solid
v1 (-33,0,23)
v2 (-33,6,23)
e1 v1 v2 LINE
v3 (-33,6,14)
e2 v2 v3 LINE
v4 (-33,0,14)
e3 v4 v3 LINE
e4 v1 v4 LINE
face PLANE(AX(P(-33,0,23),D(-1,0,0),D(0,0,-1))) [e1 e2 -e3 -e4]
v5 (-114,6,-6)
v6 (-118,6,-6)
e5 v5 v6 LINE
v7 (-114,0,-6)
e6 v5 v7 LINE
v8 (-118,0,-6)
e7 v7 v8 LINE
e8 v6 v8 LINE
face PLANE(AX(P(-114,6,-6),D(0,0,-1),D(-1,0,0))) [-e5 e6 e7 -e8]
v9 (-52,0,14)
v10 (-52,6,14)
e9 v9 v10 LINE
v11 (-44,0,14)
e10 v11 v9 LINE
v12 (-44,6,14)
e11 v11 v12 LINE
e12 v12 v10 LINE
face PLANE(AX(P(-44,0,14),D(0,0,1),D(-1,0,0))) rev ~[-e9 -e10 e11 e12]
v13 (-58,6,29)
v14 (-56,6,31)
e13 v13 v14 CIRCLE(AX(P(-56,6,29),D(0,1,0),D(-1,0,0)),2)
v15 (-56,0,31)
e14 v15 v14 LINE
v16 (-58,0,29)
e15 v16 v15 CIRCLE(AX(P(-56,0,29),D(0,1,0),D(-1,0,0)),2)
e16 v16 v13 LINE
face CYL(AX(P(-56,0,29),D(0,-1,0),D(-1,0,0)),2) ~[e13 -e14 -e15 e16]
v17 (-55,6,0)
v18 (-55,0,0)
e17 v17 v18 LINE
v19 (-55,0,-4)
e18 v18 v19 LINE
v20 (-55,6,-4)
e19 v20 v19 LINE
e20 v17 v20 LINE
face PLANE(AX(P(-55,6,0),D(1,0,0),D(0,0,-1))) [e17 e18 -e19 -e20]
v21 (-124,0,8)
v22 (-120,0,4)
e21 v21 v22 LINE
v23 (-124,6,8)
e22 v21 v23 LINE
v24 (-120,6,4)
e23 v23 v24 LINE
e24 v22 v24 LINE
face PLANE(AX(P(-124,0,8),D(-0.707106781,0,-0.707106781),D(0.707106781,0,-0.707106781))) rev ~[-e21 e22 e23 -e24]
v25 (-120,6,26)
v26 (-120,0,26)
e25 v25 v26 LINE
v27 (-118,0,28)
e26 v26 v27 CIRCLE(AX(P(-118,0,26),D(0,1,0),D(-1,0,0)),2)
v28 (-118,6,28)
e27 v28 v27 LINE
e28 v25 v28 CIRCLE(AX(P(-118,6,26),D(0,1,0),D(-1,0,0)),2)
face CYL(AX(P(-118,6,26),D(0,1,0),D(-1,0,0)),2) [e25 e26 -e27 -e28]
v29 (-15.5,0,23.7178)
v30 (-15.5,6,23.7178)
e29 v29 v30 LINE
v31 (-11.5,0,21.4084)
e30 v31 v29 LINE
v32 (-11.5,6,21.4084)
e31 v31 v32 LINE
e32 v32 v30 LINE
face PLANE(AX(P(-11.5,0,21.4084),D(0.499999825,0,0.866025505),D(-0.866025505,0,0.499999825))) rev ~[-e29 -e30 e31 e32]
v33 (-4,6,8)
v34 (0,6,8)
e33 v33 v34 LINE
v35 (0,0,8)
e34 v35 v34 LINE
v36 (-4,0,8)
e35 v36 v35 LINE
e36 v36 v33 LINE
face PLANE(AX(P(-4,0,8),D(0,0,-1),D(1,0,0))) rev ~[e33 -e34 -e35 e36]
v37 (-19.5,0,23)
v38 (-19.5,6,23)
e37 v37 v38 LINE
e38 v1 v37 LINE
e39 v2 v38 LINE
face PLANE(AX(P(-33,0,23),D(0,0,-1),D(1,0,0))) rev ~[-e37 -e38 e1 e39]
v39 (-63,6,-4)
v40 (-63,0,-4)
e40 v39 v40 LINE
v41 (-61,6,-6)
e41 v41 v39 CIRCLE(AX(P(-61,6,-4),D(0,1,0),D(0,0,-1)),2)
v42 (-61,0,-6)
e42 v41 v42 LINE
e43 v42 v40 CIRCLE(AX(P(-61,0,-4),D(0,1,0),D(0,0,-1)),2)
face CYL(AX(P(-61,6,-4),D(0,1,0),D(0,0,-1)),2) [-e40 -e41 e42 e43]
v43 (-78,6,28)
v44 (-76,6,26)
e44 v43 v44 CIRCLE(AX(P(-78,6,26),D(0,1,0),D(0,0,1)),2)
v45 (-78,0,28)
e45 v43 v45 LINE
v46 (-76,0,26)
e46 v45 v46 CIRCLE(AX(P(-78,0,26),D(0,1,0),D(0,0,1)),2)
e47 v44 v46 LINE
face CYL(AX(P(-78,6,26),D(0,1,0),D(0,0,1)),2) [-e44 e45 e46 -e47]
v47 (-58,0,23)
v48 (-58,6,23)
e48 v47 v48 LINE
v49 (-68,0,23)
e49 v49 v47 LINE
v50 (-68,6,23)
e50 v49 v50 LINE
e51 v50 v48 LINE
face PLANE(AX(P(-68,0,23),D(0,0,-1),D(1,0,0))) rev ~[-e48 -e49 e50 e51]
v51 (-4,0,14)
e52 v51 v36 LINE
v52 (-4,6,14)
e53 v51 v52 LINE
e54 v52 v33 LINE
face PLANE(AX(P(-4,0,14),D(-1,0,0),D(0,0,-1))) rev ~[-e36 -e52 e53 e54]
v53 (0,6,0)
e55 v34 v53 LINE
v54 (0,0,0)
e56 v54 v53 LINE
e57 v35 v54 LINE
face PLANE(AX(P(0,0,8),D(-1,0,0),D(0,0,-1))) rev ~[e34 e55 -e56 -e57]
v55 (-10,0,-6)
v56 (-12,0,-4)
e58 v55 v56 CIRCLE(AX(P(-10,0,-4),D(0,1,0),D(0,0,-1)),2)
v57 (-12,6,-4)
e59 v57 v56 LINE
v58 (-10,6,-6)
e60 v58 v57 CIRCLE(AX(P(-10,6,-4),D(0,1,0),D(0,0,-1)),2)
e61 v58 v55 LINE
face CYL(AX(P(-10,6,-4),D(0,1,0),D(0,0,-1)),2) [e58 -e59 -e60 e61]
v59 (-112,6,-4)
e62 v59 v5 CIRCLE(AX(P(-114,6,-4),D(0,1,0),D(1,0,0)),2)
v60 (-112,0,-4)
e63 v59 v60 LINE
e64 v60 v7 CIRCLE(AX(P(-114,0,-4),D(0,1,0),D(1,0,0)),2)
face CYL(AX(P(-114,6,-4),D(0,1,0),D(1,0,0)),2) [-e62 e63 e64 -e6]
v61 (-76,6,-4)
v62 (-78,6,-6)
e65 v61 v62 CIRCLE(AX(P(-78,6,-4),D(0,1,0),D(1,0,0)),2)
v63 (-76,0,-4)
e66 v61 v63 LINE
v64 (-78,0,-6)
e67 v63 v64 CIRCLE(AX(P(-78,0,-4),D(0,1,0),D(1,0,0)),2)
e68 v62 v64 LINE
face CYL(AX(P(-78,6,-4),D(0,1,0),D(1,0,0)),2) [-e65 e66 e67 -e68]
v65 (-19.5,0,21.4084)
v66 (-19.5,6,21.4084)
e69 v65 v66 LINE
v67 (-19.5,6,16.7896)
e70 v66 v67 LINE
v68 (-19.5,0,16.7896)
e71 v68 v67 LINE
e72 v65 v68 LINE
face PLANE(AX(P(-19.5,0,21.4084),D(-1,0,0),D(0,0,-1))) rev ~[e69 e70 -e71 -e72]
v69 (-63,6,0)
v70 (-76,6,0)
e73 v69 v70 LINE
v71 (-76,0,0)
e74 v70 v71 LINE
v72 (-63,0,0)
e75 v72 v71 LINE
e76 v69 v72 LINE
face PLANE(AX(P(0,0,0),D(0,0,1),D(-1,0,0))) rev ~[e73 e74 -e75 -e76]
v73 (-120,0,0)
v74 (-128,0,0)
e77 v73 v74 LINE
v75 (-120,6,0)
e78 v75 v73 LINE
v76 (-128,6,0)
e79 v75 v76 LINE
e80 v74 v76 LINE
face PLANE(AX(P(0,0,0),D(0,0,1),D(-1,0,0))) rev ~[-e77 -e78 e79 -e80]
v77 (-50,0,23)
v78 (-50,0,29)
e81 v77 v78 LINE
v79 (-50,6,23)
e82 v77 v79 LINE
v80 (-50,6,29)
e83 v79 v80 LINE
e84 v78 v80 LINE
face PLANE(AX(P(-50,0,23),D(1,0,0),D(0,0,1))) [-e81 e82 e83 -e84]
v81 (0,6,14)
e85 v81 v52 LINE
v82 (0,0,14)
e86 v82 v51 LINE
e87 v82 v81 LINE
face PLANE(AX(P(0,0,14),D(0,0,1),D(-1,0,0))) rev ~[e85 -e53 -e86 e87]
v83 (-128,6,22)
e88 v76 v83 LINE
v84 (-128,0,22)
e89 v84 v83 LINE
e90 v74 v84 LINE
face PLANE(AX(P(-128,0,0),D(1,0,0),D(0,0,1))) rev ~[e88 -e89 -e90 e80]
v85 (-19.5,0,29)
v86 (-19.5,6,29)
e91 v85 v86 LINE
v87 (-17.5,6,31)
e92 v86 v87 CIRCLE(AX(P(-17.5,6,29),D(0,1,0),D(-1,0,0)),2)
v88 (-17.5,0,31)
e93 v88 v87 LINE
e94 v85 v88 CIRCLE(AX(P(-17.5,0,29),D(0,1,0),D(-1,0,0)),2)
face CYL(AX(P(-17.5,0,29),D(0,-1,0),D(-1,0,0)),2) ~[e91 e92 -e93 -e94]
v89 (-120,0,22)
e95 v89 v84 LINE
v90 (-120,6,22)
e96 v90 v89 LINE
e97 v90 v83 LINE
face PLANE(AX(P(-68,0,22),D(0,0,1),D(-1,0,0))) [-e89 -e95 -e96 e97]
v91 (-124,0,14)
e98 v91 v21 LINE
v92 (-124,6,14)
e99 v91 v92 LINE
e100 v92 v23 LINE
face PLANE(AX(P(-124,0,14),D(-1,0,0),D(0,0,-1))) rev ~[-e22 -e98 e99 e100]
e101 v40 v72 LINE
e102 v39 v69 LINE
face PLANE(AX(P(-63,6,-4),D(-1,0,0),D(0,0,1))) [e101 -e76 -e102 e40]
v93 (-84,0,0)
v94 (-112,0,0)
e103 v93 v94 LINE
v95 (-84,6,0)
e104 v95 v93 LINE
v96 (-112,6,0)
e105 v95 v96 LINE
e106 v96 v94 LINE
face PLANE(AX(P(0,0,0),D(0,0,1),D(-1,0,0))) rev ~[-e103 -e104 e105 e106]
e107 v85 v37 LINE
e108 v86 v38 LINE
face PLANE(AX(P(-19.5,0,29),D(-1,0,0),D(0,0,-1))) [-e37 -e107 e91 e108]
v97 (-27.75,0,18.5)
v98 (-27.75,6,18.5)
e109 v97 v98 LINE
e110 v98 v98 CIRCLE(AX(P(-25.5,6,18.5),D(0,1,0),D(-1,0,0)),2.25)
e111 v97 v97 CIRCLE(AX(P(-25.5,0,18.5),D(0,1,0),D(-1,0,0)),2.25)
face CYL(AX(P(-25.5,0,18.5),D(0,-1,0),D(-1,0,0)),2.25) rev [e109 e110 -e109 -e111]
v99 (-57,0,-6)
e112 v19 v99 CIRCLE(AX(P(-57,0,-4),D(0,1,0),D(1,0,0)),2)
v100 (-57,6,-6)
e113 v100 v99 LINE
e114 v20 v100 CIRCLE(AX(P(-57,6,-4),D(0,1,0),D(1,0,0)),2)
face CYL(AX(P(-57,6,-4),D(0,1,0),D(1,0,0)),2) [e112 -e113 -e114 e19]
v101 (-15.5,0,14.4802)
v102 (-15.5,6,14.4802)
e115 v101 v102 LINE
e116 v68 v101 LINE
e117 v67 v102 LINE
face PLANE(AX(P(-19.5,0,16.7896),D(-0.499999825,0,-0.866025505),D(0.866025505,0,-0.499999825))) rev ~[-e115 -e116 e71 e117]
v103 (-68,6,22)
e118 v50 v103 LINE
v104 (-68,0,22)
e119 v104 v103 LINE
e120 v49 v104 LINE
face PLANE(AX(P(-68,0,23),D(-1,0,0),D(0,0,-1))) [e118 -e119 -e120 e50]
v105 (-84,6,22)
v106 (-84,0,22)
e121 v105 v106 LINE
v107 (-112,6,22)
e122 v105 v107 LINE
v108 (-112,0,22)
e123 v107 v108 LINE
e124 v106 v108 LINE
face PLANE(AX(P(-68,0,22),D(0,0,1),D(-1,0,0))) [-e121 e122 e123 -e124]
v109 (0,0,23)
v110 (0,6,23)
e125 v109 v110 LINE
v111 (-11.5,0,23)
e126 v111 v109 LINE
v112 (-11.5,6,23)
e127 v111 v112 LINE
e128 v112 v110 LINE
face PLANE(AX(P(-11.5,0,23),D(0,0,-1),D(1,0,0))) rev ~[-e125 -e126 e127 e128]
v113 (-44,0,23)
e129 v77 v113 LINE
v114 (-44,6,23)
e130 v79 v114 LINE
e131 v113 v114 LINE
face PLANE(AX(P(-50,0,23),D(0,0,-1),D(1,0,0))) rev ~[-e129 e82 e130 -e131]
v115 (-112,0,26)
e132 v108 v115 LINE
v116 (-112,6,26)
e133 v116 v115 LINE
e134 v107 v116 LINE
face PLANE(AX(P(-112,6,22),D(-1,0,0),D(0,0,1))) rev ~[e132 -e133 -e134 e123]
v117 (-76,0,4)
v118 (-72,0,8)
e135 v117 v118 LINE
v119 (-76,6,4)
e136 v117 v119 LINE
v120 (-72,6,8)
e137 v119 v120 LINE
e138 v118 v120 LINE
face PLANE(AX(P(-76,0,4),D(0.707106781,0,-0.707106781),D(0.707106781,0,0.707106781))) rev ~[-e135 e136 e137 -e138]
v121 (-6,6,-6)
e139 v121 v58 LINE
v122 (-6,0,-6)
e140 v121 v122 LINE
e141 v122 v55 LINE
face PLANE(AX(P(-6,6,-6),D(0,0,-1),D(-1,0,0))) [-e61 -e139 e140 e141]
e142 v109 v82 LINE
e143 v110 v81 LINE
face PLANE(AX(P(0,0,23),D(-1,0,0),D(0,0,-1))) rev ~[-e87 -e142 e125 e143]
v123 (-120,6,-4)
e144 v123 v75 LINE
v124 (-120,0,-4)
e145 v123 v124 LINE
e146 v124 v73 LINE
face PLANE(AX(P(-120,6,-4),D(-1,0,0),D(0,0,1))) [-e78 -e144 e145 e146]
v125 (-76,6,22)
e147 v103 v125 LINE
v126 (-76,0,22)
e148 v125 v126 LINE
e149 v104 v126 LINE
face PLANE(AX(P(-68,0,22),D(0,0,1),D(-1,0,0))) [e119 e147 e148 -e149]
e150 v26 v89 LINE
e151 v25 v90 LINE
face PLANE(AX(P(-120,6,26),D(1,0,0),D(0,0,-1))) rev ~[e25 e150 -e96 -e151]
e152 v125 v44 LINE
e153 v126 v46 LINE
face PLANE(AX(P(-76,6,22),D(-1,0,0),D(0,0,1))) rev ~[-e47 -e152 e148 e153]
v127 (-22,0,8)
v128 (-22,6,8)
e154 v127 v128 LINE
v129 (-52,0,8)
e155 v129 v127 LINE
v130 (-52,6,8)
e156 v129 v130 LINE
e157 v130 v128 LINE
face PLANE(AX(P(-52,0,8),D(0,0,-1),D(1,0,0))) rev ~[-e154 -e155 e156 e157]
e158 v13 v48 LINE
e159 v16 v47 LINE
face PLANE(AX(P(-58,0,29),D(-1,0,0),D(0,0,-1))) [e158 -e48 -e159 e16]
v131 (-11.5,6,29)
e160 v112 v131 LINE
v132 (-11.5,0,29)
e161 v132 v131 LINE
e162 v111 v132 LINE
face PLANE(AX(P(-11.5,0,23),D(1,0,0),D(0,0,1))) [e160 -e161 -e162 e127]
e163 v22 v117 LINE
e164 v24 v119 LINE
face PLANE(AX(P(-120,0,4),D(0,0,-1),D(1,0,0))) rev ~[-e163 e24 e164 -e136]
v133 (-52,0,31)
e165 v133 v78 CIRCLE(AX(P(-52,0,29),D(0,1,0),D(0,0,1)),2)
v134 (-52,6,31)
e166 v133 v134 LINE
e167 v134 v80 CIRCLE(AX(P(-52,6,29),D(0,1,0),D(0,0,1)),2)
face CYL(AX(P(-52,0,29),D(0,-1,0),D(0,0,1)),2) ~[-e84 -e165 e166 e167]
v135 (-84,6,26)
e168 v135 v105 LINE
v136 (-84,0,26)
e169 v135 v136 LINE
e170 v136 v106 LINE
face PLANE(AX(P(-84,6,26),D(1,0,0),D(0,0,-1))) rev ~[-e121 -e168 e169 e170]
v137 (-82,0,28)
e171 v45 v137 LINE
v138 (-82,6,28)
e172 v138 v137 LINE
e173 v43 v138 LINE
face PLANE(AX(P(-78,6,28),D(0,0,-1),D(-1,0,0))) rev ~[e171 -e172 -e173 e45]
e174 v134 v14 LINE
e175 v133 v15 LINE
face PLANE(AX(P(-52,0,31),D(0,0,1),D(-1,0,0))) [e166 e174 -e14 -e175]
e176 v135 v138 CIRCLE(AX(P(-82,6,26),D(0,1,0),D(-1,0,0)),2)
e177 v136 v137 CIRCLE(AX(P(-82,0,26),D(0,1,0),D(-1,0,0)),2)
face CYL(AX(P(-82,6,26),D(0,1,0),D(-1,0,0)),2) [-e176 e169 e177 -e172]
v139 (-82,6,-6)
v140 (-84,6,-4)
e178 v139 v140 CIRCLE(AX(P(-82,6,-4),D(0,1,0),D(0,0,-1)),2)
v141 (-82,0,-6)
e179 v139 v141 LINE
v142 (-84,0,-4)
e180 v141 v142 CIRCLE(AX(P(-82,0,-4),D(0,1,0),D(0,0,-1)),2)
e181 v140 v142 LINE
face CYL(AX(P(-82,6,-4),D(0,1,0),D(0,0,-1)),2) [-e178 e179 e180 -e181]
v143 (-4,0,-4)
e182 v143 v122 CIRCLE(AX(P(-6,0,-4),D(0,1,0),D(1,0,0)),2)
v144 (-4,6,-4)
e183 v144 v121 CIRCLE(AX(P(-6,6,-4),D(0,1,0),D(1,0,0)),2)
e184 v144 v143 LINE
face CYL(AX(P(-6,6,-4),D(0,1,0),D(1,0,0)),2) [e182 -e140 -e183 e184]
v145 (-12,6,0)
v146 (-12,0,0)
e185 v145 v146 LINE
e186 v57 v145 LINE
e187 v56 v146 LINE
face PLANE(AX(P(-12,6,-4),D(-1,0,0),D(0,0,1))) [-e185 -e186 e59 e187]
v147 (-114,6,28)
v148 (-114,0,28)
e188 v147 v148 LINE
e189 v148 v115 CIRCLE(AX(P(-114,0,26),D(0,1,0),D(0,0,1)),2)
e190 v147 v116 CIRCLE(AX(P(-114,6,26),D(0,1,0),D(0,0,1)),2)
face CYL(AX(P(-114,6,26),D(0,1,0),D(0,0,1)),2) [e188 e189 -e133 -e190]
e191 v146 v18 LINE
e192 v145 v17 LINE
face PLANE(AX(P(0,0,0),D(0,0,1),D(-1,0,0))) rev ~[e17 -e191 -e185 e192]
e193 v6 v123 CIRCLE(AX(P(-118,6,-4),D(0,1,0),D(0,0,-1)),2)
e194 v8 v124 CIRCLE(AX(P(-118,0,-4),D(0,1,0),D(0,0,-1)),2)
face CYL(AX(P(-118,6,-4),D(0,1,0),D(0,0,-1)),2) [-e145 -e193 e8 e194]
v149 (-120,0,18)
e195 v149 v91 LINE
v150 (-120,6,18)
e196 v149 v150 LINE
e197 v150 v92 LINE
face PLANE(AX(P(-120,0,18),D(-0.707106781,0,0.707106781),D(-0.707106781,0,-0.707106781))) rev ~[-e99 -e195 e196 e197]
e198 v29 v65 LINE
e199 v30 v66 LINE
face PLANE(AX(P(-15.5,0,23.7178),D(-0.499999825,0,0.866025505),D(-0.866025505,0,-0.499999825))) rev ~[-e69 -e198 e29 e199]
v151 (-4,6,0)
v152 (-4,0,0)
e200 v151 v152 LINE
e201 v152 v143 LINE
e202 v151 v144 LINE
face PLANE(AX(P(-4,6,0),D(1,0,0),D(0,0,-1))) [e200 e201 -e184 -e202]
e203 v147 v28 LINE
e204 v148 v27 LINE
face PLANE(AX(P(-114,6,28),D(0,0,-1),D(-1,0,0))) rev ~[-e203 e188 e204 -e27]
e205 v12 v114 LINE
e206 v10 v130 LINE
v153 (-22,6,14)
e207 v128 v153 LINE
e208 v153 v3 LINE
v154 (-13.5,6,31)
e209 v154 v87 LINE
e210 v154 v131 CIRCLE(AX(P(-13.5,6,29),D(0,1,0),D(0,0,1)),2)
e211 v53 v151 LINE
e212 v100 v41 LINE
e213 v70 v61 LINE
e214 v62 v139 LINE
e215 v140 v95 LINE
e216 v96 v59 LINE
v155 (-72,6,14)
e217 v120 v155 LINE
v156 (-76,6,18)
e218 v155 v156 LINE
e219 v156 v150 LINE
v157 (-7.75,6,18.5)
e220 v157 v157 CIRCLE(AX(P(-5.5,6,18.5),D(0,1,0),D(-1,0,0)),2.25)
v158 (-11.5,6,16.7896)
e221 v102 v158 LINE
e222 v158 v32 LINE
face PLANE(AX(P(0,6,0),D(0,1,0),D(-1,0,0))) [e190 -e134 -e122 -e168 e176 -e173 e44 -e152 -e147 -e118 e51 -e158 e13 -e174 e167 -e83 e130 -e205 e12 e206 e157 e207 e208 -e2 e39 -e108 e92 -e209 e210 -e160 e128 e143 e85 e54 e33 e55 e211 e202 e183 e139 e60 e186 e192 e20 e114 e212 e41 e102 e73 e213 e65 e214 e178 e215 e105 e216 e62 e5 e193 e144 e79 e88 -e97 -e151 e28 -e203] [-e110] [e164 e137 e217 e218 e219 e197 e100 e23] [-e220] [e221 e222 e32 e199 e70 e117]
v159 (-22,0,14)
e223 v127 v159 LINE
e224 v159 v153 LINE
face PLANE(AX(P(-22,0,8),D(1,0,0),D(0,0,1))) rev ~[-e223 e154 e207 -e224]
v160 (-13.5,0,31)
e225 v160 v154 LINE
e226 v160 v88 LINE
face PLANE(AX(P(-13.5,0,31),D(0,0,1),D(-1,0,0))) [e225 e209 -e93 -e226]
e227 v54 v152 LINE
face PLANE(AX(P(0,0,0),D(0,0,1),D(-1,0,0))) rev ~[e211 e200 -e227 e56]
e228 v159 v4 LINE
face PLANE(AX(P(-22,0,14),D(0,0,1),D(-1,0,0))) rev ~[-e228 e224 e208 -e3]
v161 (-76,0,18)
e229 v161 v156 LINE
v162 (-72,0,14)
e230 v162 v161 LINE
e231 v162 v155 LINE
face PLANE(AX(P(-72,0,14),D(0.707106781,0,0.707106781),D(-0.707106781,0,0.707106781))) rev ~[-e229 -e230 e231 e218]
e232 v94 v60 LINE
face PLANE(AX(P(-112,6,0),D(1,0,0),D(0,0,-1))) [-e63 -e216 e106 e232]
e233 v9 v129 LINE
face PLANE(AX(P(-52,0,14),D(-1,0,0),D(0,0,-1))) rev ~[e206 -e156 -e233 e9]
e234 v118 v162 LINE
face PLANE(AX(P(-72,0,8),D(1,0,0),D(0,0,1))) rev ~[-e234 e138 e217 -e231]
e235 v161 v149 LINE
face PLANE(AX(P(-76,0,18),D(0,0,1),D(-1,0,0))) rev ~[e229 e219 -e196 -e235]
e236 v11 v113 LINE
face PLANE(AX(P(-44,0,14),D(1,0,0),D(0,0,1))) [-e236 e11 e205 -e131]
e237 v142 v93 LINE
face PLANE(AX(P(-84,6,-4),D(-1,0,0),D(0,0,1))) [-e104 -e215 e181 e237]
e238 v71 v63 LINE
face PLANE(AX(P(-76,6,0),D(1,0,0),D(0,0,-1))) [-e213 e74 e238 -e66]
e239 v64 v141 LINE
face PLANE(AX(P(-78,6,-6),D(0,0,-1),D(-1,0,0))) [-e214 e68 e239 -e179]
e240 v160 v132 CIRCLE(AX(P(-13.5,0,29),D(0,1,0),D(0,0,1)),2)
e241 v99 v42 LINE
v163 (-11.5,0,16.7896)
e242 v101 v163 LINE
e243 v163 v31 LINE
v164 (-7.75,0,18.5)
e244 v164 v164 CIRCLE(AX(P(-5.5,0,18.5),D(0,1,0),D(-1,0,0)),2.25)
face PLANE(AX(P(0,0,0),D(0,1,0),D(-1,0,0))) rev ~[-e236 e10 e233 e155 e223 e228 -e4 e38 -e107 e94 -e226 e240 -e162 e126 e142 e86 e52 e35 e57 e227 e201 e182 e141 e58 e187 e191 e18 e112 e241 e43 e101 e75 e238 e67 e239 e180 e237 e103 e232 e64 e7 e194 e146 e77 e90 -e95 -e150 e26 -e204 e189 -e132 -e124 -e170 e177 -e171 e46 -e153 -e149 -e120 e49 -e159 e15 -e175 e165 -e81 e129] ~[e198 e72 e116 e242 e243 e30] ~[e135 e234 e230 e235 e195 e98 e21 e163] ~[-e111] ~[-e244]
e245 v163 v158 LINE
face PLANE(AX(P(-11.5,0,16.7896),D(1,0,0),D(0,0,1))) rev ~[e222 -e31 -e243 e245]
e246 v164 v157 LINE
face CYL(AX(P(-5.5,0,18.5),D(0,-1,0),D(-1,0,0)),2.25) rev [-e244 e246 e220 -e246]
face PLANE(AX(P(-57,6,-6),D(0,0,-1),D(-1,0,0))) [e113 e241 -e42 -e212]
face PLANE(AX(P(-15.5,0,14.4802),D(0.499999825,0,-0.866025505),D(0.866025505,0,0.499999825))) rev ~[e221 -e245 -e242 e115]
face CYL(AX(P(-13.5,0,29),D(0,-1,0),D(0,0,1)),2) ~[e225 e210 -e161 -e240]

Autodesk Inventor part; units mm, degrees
ref_plane "YZ Plane" through (0, 0, 0) normal (1, 0, 0) x (0, 1, 0)
ref_plane "XZ Plane" through (0, 0, 0) normal (0, 1, 0) x (-1, 0, 0)
ref_plane "XY Plane" through (0, 0, 0) normal (0, 0, 1) x (1, 0, 0)
sketch "Sketch1" plane through (0, 0, 0) normal (0, 1, 0) x (-1, 0, 0)
  line L0 (0, 0) -> (128, 0)
  line L1 (128, 0) -> (128, 22)
  line L2 (52, 14) -> (52, 8)
  line L3 (52, 8) -> (22, 8)
  line L4 (22, 8) -> (22, 14)
  circle A0 centre (5.5, 18.5) radius 2.25
  circle A1 centre (5.5, 18.5) radius 4.5 construction
  circle A2 centre (25.5, 18.5) radius 2.25
  circle A3 centre (25.5, 18.5) radius 4.5 construction
  line L5 (33, 14) -> (44, 14) construction
  circle A4 centre (38.5, 19.099) radius 7.5 construction
  circle A5 centre (38.5, 19.099) radius 4 construction
  line L6 (33, 23) -> (33, 14)
  line L7 (44, 14) -> (44, 23)
  line L8 (22, 14) -> (33, 14)
  line L9 (44, 14) -> (52, 14)
  line L10 (0, 14) -> (4, 14)
  line L11 (4, 14) -> (4, 8)
  line L12 (4, 8) -> (0, 8)
  line L13 (0, 23) -> (0, 14)
  line L14 (0, 8) -> (0, 0)
  line L15 (11.5, 23) -> (11.5, 29)
  line L16 (13.5, 31) -> (17.5, 31)
  line L17 (19.5, 29) -> (19.5, 23)
  arc A6 (13.5, 31) -> (11.5, 29) centre (13.5, 29) ccw
  arc A7 (19.5, 29) -> (17.5, 31) centre (17.5, 29) ccw
  line L18 (33, 23) -> (19.5, 23)
  line L19 (11.5, 23) -> (0, 23)
  line L20 (50, 23) -> (50, 29)
  line L21 (52, 31) -> (56, 31)
  line L22 (58, 29) -> (58, 23)
  arc A8 (52, 31) -> (50, 29) centre (52, 29) ccw
  arc A9 (58, 29) -> (56, 31) centre (56, 29) ccw
  line L23 (68, 23) -> (58, 23)
  line L24 (50, 23) -> (44, 23)
  line L25 (68, 23) -> (68, 22)
  line L26 (68, 22) -> (128, 22)
  line L27 (19.5, 16.7896) -> (15.5, 14.4802)
  line L28 (15.5, 14.4802) -> (11.5, 16.7896)
  line L29 (11.5, 16.7896) -> (11.5, 21.4084)
  line L30 (11.5, 21.4084) -> (15.5, 23.7178)
  line L31 (15.5, 23.7178) -> (19.5, 21.4084)
  line L32 (19.5, 21.4084) -> (19.5, 16.7896)
  point P0 (15.5, 19.099)
  point P1 (0, 18.5)
  point P2 (15.5, 31)
  point P3 (15.5, 19.099)
  dimension "d0" = 6
  dimension "d1" = 8
  dimension "d3" = 4.5
  dimension "d4" = 9
  dimension "d5" = 4.5
  dimension "d6" = 9
  dimension "d8" = 11
  dimension "d9" = 8
  dimension "d10" = 15
  dimension "d11" = 9
  dimension "d12" = 4
  dimension "d13" = 5.5
  dimension "d14" = 10
  dimension "d15" = 10
  dimension "d16" = 2
  dimension "d17" = 8
  dimension "d18" = 8
  dimension "d19" = 23
  dimension "d20" = 30
  dimension "d21" = 18
  dimension "d23" = 2
  dimension "d24" = 8
  dimension "d25" = 6
  dimension "d26" = 8
  dimension "d27" = 10
  dimension "d29" = 60
  dimension "d30" = 8
extrude "Extrusion1" add sketch "Sketch1" along normal blind 6
sketch "Sketch2" plane through (0, 6, 0) normal (0, 1, 0) x (1, 0, 0)
  line L0 (-128, 0) -> (-128, -22) projected
  line L1 (-128, -22) -> (-68, -22) projected
  line L2 (-68, -22) -> (-68, -23) projected
  line L3 (-120, -22) -> (-112, -22)
  line L4 (-112, -22) -> (-112, -26)
  line L5 (-114, -28) -> (-118, -28)
  line L6 (-120, -26) -> (-120, -22)
  line L7 (-84, -22) -> (-76, -22)
  line L8 (-76, -22) -> (-76, -26)
  line L9 (-78, -28) -> (-82, -28)
  line L10 (-84, -26) -> (-84, -22)
  arc A0 (-84, -26) -> (-82, -28) centre (-82, -26) ccw
  arc A1 (-78, -28) -> (-76, -26) centre (-78, -26) ccw
  arc A2 (-114, -28) -> (-112, -26) centre (-114, -26) ccw
  arc A3 (-120, -26) -> (-118, -28) centre (-118, -26) ccw
  dimension "d33" = 2
  dimension "d34" = 8
  dimension "d35" = 6
  dimension "d36" = 8
  dimension "d37" = 8
  dimension "d38" = 8
extrude "Extrusion2" add sketch "Sketch2" against normal blind 6
sketch "Sketch3" plane through (0, 6, 0) normal (0, 1, 0) x (1, 0, 0)
  line L0 (0, 0) -> (-128, 0) projected
  line L1 (-112, -26) -> (-112, -22) projected
  line L2 (-76, -26) -> (-76, -22) projected
  line L3 (0, -8) -> (0, 0) projected
  line L4 (-120, 0) -> (-112, 0)
  line L5 (-112, 0) -> (-112, 4)
  line L6 (-114, 6) -> (-118, 6)
  line L7 (-120, 4) -> (-120, 0)
  line L8 (-84, 0) -> (-76, 0)
  line L9 (-76, 0) -> (-76, 4)
  line L10 (-78, 6) -> (-82, 6)
  line L11 (-84, 4) -> (-84, 0)
  line L12 (-63, 0) -> (-55, 0)
  line L13 (-55, 0) -> (-55, 4)
  line L14 (-57, 6) -> (-61, 6)
  line L15 (-63, 4) -> (-63, 0)
  line L16 (-12, 0) -> (-4, 0)
  line L17 (-4, 0) -> (-4, 4)
  line L18 (-6, 6) -> (-10, 6)
  line L19 (-12, 4) -> (-12, 0)
  arc A0 (-118, 6) -> (-120, 4) centre (-118, 4) ccw
  arc A1 (-112, 4) -> (-114, 6) centre (-114, 4) ccw
  arc A2 (-82, 6) -> (-84, 4) centre (-82, 4) ccw
  arc A3 (-76, 4) -> (-78, 6) centre (-78, 4) ccw
  arc A4 (-61, 6) -> (-63, 4) centre (-61, 4) ccw
  arc A5 (-55, 4) -> (-57, 6) centre (-57, 4) ccw
  arc A6 (-10, 6) -> (-12, 4) centre (-10, 4) ccw
  arc A7 (-4, 4) -> (-6, 6) centre (-6, 4) ccw
  dimension "d41" = 2
  dimension "d42" = 6
  dimension "d43" = 8
  dimension "d44" = 8
  dimension "d45" = 8
  dimension "d46" = 8
  dimension "d47" = 4
  dimension "d48" = 43
extrude "Extrusion3" add sketch "Sketch3" against normal blind 6
sketch "Sketch4" plane through (0, 0, 0) normal (0, -1, 0) x (1, 0, 0)
  line L0 (-112, 22) -> (-84, 22) projected
  line L1 (-128, 0) -> (-128, 22) projected
  line L2 (-84, 0) -> (-112, 0) projected
  line L3 (-63, 0) -> (-76, 0) projected
  line L4 (-4, -4) -> (-4, 0) projected
  line L5 (-124, 14) -> (-124, 8)
  line L6 (-124, 8) -> (-120, 4)
  line L7 (-120, 4) -> (-76, 4)
  line L8 (-76, 4) -> (-72, 8)
  line L9 (-72, 8) -> (-72, 14)
  line L10 (-72, 14) -> (-76, 18)
  line L11 (-76, 18) -> (-120, 18)
  line L12 (-120, 18) -> (-124, 14)
  line L13 (-68, 22) -> (-68, 0) construction
  dimension "d52" = 45
  dimension "d53" = 4
  dimension "d54" = 4
  dimension "d55" = 4
  dimension "d56" = 4
  dimension "d57" = 4
extrude "Extrusion4" cut sketch "Sketch4" against normal blind 6
properties part number "x_iddler_wall_lower"
